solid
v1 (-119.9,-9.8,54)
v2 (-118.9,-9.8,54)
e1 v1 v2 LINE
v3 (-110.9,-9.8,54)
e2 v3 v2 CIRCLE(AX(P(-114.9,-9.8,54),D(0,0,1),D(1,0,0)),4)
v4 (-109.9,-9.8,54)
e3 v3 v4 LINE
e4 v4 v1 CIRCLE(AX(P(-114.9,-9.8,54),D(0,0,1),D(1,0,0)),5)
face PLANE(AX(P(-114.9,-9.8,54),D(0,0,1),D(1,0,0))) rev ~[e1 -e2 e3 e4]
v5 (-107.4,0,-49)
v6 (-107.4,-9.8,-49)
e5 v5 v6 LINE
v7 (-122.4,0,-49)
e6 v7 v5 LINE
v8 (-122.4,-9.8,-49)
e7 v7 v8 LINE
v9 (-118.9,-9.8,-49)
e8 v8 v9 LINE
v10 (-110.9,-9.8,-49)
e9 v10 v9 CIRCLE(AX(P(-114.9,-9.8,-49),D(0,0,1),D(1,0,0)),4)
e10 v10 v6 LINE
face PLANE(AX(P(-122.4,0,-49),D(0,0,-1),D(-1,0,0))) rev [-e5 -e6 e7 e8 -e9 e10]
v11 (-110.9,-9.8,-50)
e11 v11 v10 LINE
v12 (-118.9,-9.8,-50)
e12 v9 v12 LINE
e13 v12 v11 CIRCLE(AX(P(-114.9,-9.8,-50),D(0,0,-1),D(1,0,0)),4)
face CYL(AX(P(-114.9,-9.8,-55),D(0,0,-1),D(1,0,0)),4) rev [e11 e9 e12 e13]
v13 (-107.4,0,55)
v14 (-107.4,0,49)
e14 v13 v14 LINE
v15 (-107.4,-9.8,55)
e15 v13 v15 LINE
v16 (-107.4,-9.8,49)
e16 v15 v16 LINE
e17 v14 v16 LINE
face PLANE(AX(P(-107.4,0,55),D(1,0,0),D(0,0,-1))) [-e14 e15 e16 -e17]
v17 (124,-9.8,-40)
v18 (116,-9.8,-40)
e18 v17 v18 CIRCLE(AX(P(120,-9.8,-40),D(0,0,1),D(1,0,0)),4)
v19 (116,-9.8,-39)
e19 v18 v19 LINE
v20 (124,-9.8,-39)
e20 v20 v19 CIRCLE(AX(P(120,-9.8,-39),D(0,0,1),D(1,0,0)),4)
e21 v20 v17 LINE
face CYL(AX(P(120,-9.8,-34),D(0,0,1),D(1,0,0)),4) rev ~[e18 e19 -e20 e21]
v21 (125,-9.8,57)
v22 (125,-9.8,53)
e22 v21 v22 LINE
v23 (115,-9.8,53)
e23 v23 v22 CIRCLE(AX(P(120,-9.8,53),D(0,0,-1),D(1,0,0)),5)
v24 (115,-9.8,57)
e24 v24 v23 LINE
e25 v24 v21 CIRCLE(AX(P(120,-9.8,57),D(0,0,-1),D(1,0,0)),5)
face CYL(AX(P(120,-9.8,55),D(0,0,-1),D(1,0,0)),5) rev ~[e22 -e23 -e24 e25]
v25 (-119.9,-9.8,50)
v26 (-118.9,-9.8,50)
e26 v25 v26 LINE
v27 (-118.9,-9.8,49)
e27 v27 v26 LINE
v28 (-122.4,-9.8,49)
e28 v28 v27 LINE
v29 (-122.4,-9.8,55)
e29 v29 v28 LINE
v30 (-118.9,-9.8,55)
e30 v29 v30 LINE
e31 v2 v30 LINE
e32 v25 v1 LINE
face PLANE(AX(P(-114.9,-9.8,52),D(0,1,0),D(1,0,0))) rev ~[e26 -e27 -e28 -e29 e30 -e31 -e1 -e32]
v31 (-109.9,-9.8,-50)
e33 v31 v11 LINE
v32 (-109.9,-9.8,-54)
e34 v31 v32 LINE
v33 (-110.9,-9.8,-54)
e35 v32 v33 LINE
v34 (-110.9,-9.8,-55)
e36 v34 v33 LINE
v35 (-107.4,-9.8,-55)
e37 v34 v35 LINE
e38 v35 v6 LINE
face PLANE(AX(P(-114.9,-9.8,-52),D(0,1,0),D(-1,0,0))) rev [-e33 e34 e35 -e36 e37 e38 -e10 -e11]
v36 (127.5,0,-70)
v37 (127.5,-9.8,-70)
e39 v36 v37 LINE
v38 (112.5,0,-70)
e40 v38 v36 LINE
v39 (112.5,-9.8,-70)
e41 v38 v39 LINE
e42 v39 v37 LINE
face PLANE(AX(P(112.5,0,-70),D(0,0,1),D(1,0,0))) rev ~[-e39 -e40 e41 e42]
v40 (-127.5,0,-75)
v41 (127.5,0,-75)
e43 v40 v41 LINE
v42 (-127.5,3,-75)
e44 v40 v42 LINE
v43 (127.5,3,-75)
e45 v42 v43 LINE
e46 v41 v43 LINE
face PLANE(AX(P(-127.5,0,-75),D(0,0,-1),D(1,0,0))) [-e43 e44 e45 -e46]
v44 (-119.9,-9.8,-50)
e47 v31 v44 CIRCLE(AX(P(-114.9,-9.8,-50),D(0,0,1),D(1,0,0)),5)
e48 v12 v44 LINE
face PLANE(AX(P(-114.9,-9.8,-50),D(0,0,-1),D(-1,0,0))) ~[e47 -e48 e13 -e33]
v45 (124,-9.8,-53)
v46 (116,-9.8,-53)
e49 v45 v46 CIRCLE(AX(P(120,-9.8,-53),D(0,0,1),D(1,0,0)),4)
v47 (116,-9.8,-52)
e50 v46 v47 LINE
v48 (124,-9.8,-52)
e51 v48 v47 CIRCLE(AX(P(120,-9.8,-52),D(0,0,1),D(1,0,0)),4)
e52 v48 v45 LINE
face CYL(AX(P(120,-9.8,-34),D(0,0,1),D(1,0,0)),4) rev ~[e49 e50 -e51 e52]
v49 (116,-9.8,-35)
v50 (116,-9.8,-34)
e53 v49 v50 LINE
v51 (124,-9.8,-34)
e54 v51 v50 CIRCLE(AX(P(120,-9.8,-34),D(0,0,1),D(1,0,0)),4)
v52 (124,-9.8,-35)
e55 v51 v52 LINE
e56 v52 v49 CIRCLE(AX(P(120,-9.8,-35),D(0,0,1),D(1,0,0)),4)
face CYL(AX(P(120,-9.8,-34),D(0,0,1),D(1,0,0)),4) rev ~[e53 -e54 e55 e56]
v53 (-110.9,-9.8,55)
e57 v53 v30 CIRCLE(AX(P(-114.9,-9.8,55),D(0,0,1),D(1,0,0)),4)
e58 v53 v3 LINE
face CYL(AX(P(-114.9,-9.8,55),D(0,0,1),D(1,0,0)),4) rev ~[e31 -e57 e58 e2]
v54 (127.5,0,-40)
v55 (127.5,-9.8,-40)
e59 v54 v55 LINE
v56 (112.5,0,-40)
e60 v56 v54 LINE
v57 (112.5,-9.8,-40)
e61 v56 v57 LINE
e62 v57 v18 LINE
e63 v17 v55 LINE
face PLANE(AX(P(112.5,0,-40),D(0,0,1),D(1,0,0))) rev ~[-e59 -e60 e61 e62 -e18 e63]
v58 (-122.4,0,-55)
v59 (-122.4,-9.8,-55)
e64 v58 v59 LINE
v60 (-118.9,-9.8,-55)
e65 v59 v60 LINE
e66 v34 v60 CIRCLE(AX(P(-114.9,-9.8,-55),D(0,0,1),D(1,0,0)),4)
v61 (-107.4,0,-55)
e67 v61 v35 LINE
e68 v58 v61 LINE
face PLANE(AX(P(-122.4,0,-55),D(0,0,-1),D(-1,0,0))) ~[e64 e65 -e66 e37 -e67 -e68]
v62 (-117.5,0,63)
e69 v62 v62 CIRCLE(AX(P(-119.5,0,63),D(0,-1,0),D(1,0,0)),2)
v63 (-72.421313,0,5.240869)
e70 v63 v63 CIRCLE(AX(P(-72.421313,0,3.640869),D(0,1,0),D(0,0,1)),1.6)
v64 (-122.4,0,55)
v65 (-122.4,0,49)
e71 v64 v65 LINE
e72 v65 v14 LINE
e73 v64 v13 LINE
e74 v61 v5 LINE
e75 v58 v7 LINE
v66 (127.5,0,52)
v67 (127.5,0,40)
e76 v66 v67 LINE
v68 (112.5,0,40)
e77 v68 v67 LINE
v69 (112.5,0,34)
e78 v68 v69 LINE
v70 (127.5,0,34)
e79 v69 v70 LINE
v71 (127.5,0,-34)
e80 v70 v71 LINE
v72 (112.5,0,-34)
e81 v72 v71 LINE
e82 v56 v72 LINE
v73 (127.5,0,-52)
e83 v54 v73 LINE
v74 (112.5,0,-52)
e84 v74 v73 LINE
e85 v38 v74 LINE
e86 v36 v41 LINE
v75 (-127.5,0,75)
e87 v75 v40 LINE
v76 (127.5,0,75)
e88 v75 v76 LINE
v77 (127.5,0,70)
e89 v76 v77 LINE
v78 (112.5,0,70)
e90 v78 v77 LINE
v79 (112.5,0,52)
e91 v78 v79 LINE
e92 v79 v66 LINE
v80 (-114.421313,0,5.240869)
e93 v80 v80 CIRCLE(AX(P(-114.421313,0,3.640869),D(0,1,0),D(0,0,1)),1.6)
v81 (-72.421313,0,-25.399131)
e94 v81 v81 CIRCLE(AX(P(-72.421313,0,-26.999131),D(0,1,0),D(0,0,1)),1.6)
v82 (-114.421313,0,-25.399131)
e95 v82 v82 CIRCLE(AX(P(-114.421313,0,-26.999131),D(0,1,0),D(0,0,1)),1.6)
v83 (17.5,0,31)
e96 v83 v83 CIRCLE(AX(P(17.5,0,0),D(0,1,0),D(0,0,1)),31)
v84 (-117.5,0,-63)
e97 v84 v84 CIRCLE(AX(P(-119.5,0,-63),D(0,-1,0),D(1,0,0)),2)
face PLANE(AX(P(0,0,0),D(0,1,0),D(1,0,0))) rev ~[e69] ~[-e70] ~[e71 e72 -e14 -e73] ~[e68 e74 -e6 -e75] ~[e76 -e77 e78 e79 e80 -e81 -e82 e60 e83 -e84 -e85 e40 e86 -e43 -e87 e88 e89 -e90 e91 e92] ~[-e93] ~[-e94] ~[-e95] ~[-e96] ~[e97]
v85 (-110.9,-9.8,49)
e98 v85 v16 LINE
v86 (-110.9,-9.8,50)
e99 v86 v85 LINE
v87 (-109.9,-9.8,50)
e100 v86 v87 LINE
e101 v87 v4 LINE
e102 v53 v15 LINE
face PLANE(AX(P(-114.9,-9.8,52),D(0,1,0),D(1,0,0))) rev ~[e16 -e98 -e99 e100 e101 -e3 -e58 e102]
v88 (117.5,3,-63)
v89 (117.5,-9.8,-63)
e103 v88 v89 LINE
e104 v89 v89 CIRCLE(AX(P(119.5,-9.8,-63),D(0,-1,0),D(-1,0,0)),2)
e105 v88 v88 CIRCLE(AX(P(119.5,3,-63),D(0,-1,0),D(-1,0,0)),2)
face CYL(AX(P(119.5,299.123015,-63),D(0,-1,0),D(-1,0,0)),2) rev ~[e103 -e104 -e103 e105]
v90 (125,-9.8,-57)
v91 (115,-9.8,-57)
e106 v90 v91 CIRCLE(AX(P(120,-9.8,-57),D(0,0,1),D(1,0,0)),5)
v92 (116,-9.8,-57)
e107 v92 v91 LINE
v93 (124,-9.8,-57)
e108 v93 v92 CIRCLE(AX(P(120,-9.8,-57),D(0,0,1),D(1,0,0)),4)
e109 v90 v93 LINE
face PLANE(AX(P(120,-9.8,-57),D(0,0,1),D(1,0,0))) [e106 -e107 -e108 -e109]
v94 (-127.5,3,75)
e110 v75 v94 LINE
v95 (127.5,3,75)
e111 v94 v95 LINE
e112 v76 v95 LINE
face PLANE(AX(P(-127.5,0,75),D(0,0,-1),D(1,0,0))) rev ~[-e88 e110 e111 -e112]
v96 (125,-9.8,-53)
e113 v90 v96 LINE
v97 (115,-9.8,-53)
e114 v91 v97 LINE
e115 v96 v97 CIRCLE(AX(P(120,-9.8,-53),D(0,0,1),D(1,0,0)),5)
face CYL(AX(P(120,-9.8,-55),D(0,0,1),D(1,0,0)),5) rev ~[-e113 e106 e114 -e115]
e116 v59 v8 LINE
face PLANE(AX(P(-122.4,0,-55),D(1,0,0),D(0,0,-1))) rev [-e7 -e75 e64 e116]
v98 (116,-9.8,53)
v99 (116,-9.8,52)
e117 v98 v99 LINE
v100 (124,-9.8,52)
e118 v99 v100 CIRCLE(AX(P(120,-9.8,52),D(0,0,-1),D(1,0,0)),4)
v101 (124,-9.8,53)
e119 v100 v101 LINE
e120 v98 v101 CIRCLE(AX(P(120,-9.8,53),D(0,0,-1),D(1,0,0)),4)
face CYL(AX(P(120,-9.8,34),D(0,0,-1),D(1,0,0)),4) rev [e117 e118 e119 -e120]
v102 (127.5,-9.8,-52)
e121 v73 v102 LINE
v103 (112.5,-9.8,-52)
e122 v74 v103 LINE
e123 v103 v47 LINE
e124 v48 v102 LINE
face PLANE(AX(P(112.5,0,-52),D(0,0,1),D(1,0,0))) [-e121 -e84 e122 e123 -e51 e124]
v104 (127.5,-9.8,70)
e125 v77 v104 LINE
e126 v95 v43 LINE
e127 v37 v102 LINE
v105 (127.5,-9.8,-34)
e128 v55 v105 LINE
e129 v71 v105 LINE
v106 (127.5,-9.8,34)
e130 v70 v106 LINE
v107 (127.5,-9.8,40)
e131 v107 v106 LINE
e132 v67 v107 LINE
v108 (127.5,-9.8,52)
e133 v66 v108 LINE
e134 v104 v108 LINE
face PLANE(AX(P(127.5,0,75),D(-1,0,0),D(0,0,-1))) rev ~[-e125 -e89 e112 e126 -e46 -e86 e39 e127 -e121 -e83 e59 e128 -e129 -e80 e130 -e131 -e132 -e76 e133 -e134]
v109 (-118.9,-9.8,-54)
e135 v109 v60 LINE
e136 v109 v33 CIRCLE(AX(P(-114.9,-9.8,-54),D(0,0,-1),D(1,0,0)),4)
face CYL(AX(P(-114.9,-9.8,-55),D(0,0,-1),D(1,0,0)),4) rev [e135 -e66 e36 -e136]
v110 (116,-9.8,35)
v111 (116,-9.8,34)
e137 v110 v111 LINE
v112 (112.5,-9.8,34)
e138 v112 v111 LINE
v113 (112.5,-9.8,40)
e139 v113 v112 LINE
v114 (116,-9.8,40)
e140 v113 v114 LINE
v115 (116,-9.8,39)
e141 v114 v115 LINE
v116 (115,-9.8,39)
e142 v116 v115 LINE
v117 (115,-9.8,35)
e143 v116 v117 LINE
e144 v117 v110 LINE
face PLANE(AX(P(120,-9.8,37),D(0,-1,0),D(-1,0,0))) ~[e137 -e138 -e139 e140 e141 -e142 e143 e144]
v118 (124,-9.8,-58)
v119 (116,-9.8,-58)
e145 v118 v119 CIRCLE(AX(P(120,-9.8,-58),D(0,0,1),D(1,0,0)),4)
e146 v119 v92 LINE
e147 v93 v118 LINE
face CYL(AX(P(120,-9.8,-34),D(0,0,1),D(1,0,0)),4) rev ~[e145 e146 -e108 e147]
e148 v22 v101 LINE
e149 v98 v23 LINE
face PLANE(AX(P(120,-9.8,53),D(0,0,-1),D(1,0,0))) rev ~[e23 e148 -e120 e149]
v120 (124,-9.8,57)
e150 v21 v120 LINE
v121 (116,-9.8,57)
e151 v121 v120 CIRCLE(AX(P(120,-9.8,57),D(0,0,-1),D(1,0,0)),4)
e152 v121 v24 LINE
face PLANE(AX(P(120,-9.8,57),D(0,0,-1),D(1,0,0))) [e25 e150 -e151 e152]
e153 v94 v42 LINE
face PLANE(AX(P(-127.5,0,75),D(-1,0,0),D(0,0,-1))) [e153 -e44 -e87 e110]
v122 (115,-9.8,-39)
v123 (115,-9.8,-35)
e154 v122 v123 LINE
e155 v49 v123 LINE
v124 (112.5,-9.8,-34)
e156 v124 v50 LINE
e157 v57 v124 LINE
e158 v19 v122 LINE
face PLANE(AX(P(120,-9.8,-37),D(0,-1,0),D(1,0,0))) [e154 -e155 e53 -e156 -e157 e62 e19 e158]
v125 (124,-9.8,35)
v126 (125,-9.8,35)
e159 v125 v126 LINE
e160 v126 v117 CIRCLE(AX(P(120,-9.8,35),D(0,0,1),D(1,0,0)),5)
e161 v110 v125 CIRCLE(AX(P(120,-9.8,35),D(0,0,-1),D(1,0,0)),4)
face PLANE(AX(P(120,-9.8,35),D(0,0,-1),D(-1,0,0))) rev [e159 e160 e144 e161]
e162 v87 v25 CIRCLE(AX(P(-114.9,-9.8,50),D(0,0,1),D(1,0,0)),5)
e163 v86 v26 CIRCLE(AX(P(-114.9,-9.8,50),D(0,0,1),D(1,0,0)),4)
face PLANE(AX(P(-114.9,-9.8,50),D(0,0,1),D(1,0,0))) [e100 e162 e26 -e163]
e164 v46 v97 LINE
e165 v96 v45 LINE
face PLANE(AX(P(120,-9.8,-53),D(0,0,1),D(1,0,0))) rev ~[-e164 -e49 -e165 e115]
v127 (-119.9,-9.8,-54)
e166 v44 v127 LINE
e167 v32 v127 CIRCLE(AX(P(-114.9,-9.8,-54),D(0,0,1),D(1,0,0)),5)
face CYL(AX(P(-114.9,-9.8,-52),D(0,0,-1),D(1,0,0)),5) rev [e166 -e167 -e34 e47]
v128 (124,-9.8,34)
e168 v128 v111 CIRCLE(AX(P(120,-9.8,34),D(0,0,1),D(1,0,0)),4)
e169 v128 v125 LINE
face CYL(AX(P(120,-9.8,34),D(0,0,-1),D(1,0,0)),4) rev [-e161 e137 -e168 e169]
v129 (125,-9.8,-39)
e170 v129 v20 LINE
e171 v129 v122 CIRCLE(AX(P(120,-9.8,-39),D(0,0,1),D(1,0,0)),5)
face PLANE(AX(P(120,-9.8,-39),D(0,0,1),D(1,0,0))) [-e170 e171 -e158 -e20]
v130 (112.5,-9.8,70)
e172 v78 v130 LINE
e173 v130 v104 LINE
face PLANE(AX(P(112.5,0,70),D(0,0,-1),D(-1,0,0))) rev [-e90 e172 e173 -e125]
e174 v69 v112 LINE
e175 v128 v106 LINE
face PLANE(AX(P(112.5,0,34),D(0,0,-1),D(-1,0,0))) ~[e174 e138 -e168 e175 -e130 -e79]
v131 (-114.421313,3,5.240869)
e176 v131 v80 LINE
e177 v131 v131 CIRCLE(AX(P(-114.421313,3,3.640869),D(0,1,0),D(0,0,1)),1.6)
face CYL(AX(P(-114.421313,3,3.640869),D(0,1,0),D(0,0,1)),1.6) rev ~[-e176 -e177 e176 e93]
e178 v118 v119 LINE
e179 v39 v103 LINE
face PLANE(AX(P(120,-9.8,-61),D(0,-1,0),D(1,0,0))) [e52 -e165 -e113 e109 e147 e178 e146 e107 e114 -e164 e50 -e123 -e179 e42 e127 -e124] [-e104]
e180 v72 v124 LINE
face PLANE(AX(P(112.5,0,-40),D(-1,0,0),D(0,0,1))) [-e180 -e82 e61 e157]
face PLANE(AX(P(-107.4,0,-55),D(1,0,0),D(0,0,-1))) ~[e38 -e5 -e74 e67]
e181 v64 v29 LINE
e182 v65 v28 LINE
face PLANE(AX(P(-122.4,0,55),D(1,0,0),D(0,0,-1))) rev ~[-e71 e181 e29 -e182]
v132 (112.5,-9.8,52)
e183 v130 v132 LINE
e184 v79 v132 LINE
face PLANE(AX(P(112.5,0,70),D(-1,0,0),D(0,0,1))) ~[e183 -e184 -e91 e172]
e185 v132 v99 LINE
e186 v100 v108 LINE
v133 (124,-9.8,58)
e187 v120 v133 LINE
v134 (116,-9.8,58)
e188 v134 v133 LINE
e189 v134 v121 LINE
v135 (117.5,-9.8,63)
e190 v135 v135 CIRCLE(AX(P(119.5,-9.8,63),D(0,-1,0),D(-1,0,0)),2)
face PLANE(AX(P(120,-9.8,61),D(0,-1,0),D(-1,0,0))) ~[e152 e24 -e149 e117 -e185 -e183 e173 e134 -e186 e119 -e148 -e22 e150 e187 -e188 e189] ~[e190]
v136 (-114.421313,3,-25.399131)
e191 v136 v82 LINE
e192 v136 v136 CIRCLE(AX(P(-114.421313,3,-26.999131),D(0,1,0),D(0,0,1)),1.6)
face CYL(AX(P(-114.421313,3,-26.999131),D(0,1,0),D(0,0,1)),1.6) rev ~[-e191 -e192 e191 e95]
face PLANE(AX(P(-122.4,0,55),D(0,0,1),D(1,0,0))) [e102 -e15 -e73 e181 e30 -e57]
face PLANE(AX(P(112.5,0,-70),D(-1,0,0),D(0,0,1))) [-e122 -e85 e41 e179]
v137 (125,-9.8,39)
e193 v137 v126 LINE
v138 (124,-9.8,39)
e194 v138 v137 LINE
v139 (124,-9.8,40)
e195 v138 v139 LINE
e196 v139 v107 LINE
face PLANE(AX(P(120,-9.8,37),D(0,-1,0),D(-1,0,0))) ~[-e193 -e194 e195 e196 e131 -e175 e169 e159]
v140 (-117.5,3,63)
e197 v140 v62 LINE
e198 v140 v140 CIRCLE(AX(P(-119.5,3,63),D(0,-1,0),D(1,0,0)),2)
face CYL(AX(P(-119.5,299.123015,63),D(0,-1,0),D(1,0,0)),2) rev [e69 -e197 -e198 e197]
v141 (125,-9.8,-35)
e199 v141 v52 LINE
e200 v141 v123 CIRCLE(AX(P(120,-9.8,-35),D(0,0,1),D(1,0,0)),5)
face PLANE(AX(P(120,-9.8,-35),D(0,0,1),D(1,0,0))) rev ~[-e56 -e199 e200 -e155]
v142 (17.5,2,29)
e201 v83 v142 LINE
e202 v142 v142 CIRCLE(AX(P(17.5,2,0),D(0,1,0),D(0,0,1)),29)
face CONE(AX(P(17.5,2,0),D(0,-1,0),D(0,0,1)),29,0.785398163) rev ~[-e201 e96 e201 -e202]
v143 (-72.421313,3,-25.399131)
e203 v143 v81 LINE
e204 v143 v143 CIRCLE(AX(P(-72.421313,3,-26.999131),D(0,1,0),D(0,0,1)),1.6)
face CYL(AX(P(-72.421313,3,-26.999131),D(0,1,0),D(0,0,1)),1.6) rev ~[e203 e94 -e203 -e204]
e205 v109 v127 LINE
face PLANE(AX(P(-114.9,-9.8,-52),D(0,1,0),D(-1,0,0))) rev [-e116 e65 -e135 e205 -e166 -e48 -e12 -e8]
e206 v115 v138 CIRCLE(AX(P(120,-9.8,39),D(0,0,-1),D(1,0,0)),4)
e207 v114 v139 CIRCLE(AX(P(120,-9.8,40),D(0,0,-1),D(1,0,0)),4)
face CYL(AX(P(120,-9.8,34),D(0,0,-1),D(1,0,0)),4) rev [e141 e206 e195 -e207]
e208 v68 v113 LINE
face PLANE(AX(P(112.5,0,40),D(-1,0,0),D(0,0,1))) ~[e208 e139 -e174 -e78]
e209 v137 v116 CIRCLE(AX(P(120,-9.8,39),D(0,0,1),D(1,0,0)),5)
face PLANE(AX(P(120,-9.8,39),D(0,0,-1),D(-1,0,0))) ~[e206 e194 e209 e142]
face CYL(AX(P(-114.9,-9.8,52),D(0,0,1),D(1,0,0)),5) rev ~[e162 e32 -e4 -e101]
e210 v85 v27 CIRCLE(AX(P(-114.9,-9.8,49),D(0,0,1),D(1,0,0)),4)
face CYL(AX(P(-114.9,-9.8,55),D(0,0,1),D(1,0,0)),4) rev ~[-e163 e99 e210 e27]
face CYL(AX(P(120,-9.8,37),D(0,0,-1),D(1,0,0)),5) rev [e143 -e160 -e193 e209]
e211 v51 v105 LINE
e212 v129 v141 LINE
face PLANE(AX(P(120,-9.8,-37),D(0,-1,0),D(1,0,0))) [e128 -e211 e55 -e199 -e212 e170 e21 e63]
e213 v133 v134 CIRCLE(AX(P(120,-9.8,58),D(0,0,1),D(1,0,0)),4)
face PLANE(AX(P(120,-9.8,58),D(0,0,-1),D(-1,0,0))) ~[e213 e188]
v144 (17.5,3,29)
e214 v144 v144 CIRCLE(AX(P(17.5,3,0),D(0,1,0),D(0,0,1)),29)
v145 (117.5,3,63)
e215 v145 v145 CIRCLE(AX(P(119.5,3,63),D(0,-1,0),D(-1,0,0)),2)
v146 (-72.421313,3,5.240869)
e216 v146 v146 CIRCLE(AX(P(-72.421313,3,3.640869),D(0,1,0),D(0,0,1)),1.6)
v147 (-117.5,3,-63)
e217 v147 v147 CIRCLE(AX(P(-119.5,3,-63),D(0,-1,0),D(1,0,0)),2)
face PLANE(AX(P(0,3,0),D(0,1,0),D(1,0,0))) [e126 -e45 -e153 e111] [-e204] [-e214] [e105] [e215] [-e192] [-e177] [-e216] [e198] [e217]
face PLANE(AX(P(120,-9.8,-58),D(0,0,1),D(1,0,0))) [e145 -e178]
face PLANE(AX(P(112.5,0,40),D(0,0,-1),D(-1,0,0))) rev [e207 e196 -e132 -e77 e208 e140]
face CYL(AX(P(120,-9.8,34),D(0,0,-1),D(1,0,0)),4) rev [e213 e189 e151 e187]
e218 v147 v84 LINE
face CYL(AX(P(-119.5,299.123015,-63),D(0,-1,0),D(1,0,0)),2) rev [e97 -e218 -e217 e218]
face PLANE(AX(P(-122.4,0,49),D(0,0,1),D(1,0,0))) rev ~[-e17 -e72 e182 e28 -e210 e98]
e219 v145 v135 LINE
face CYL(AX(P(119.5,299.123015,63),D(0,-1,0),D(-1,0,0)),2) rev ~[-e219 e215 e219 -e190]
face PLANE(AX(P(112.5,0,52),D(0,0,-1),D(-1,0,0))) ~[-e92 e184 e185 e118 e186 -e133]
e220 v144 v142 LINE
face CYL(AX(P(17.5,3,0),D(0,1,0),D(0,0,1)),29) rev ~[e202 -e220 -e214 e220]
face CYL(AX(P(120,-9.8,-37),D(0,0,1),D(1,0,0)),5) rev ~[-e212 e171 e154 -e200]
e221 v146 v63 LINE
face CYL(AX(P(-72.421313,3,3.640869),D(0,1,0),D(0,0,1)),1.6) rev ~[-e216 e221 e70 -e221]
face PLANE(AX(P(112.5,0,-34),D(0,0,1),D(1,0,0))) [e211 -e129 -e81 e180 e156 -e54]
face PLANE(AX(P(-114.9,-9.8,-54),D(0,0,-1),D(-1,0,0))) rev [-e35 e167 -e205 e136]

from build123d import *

# Parameters (mm, degrees)
SKETCH1_W               = 255
SKETCH1_H               = 150
BOSS_EXTRUDE1_DEPTH     = 3
SKETCH3_R               = 29
CUT_EXTRUDE2_DEPTH      = 3
CUT_EXTRUDE3_REACH      = 149.954
SKETCH4_R               = 1.6
SKETCH5_W               = 15
SKETCH5_H               = 6
BOSS_EXTRUDE2_DEPTH     = 9.8
CUT_EXTRUDE4_REACH      = 184.352
SKETCH6_R               = 4
SKETCH7_R               = 5
CUT_EXTRUDE5_DEPTH      = 2
SKETCH8_W               = 15
SKETCH8_H               = 18
SKETCH8_H_2             = 6
BOSS_EXTRUDE3_DEPTH     = 9.8
SKETCH9_R               = 4
CUT_EXTRUDE6_DEPTH      = 24
SKETCH10_R              = 5
CUT_EXTRUDE7_DEPTH      = 2
LPATTERN1_COUNT         = 2
LPATTERN1_PITCH         = 18
MIRROR2_COPY_1_SKETCH_R = 5
MIRROR2_COPY_1_DEPTH    = 2
CHAMFER1_SIZE           = 2
F_4_0MM_DOWEL_HOLE1_D   = 4


with BuildPart() as part:
    # Sketch1 → Boss-Extrude1 (new body)
    with BuildSketch(Plane(origin=(0, 0, 0), x_dir=(1, 0, 0), z_dir=(0, 1, 0))):
        Rectangle(SKETCH1_W, SKETCH1_H)
    extrude(amount=BOSS_EXTRUDE1_DEPTH)

    # Sketch3 → Cut-Extrude2 (cut)
    with BuildSketch(Plane(origin=(0, 3, 0), x_dir=(1, 0, 0), z_dir=(0, 1, 0))):
        with Locations(Location((17.5, 0, 0), (0, 0, 270))):
            Circle(SKETCH3_R)
    extrude(amount=-CUT_EXTRUDE2_DEPTH, mode=Mode.SUBTRACT)

    # Sketch4 → Cut-Extrude3 (cut, up to next)
    with BuildSketch(Plane(origin=(0, 3, 0), x_dir=(1, 0, 0), z_dir=(0, 1, 0)), mode=Mode.PRIVATE) as cut_extrude3_sk1:
        with Locations(Location((-72.421312687, -3.64086936, 0), (0, 0, 270))):
            Circle(SKETCH4_R)
    cut_extrude3_tool1 = extrude(cut_extrude3_sk1.sketch, amount=-CUT_EXTRUDE3_REACH, mode=Mode.PRIVATE) & part.part
    # Sketch4 → Cut-Extrude3 (cut, up to next)
    with BuildSketch(Plane(origin=(0, 3, 0), x_dir=(1, 0, 0), z_dir=(0, 1, 0)), mode=Mode.PRIVATE) as cut_extrude3_sk2:
        with Locations(Location((-72.421312687, 26.99913064, 0), (0, 0, 270))):
            Circle(SKETCH4_R)
    cut_extrude3_tool2 = extrude(cut_extrude3_sk2.sketch, amount=-CUT_EXTRUDE3_REACH, mode=Mode.PRIVATE) & part.part
    # Sketch4 → Cut-Extrude3 (cut, up to next)
    with BuildSketch(Plane(origin=(0, 3, 0), x_dir=(1, 0, 0), z_dir=(0, 1, 0)), mode=Mode.PRIVATE) as cut_extrude3_sk3:
        with Locations(Location((-114.421312687, -3.64086936, 0), (0, 0, 270))):
            Circle(SKETCH4_R)
    cut_extrude3_tool3 = extrude(cut_extrude3_sk3.sketch, amount=-CUT_EXTRUDE3_REACH, mode=Mode.PRIVATE) & part.part
    # Sketch4 → Cut-Extrude3 (cut, up to next)
    with BuildSketch(Plane(origin=(0, 3, 0), x_dir=(1, 0, 0), z_dir=(0, 1, 0)), mode=Mode.PRIVATE) as cut_extrude3_sk4:
        with Locations(Location((-114.421312687, 26.99913064, 0), (0, 0, 270))):
            Circle(SKETCH4_R)
    cut_extrude3_tool4 = extrude(cut_extrude3_sk4.sketch, amount=-CUT_EXTRUDE3_REACH, mode=Mode.PRIVATE) & part.part
    add(cut_extrude3_tool1.solids().sort_by_distance((-72.421313, 3, 3.640869))[0], mode=Mode.SUBTRACT)
    add(cut_extrude3_tool2.solids().sort_by_distance((-72.421313, 3, -26.999131))[0], mode=Mode.SUBTRACT)
    add(cut_extrude3_tool3.solids().sort_by_distance((-114.421313, 3, 3.640869))[0], mode=Mode.SUBTRACT)
    add(cut_extrude3_tool4.solids().sort_by_distance((-114.421313, 3, -26.999131))[0], mode=Mode.SUBTRACT)

    # Sketch5 → Boss-Extrude2 (add)
    with BuildSketch(Plane(origin=(0, 0, 0), x_dir=(1, 0, 0), z_dir=(0, 1, 0))):
        with Locations((-114.9, -52)):
            Rectangle(SKETCH5_W, SKETCH5_H)
    boss_extrude2 = extrude(amount=-BOSS_EXTRUDE2_DEPTH)

    # Sketch6 → Cut-Extrude4 (cut, up to next)
    with BuildSketch(Plane.XY.offset(55), mode=Mode.PRIVATE) as cut_extrude4_sk1:
        with Locations((-114.9, -9.8)):
            Circle(SKETCH6_R)
    cut_extrude4_tool1 = extrude(cut_extrude4_sk1.sketch, amount=-CUT_EXTRUDE4_REACH, mode=Mode.PRIVATE) & part.part
    cut_extrude4 = cut_extrude4_tool1.solids().sort_by_distance((-114.9, -9.8, 55))[0]
    add(cut_extrude4, mode=Mode.SUBTRACT)

    # Sketch7 → Cut-Extrude5 (cut, symmetric)
    with BuildSketch(Plane.XY.offset(52)):
        with Locations((-114.9, -9.8)):
            Circle(SKETCH7_R)
    cut_extrude5 = extrude(amount=CUT_EXTRUDE5_DEPTH, both=True, mode=Mode.SUBTRACT)

    # Mirror1: Boss-Extrude2, Cut-Extrude4, Cut-Extrude5 across plane
    add(boss_extrude2.mirror(Plane.XY))
    add(cut_extrude4.mirror(Plane.XY), mode=Mode.SUBTRACT)
    add(cut_extrude5.mirror(Plane.XY), mode=Mode.SUBTRACT)

    # Sketch8 → Boss-Extrude3 (add)
    with BuildSketch(Plane.XZ):
        with Locations((120, -61)):
            Rectangle(SKETCH8_W, SKETCH8_H)
        with Locations((120, -37)):
            Rectangle(SKETCH8_W, SKETCH8_H_2)
    boss_extrude3 = extrude(amount=BOSS_EXTRUDE3_DEPTH)

    # Sketch9 → Cut-Extrude6 (cut)
    with BuildSketch(Plane.XY.offset(-34)):
        with Locations((120, -9.8)):
            Circle(SKETCH9_R)
    cut_extrude6 = extrude(amount=-CUT_EXTRUDE6_DEPTH, mode=Mode.SUBTRACT)

    # Sketch10 → Cut-Extrude7 (cut, symmetric)
    with BuildSketch(Plane.XY.offset(-37)):
        with Locations((120, -9.8)):
            Circle(SKETCH10_R)
    cut_extrude7 = extrude(amount=CUT_EXTRUDE7_DEPTH, both=True, mode=Mode.SUBTRACT)

    # LPattern1: Cut-Extrude7 ×2
    with Locations(*[(0, 0, -i * LPATTERN1_PITCH) for i in range(1, LPATTERN1_COUNT)]):
        add(cut_extrude7, mode=Mode.SUBTRACT)

    # Mirror2: Boss-Extrude3, Cut-Extrude6, Cut-Extrude7 across plane
    add(boss_extrude3.mirror(Plane.XY))
    add(cut_extrude6.mirror(Plane.XY), mode=Mode.SUBTRACT)
    add(cut_extrude7.mirror(Plane.XY), mode=Mode.SUBTRACT)

    # Mirror2 copy 1 sketch → Mirror2 copy 1 (cut, symmetric)
    with BuildSketch(Plane(origin=(0, 0, 55), x_dir=(1, 0, 0), z_dir=(0, 0, -1))):
        with Locations((120, 9.8)):
            Circle(MIRROR2_COPY_1_SKETCH_R)
    extrude(amount=MIRROR2_COPY_1_DEPTH, both=True, mode=Mode.SUBTRACT)

    # Chamfer1
    chamfer1_edges = [part.edges().sort_by_distance(p)[0] for p in [
        (17.5, 0, -29),
    ]]
    chamfer(chamfer1_edges, length=CHAMFER1_SIZE)

    # Ø4.0mm Dowel Hole1 (through all)
    with Locations(Plane(origin=(0, 3, 0), x_dir=(1, 0, 0), z_dir=(0, 1, 0))):
        with Locations((119.5, -63), (119.5, 63)):
            f_4_0mm_dowel_hole1 = Hole(F_4_0MM_DOWEL_HOLE1_D / 2)

    # Mirror3: Ø4.0mm Dowel Hole1 across plane
    add(f_4_0mm_dowel_hole1.mirror(Plane(origin=(0, 0, 0), x_dir=(0, 0, 1), z_dir=(1, 0, 0))), mode=Mode.SUBTRACT)


solid = part.part
